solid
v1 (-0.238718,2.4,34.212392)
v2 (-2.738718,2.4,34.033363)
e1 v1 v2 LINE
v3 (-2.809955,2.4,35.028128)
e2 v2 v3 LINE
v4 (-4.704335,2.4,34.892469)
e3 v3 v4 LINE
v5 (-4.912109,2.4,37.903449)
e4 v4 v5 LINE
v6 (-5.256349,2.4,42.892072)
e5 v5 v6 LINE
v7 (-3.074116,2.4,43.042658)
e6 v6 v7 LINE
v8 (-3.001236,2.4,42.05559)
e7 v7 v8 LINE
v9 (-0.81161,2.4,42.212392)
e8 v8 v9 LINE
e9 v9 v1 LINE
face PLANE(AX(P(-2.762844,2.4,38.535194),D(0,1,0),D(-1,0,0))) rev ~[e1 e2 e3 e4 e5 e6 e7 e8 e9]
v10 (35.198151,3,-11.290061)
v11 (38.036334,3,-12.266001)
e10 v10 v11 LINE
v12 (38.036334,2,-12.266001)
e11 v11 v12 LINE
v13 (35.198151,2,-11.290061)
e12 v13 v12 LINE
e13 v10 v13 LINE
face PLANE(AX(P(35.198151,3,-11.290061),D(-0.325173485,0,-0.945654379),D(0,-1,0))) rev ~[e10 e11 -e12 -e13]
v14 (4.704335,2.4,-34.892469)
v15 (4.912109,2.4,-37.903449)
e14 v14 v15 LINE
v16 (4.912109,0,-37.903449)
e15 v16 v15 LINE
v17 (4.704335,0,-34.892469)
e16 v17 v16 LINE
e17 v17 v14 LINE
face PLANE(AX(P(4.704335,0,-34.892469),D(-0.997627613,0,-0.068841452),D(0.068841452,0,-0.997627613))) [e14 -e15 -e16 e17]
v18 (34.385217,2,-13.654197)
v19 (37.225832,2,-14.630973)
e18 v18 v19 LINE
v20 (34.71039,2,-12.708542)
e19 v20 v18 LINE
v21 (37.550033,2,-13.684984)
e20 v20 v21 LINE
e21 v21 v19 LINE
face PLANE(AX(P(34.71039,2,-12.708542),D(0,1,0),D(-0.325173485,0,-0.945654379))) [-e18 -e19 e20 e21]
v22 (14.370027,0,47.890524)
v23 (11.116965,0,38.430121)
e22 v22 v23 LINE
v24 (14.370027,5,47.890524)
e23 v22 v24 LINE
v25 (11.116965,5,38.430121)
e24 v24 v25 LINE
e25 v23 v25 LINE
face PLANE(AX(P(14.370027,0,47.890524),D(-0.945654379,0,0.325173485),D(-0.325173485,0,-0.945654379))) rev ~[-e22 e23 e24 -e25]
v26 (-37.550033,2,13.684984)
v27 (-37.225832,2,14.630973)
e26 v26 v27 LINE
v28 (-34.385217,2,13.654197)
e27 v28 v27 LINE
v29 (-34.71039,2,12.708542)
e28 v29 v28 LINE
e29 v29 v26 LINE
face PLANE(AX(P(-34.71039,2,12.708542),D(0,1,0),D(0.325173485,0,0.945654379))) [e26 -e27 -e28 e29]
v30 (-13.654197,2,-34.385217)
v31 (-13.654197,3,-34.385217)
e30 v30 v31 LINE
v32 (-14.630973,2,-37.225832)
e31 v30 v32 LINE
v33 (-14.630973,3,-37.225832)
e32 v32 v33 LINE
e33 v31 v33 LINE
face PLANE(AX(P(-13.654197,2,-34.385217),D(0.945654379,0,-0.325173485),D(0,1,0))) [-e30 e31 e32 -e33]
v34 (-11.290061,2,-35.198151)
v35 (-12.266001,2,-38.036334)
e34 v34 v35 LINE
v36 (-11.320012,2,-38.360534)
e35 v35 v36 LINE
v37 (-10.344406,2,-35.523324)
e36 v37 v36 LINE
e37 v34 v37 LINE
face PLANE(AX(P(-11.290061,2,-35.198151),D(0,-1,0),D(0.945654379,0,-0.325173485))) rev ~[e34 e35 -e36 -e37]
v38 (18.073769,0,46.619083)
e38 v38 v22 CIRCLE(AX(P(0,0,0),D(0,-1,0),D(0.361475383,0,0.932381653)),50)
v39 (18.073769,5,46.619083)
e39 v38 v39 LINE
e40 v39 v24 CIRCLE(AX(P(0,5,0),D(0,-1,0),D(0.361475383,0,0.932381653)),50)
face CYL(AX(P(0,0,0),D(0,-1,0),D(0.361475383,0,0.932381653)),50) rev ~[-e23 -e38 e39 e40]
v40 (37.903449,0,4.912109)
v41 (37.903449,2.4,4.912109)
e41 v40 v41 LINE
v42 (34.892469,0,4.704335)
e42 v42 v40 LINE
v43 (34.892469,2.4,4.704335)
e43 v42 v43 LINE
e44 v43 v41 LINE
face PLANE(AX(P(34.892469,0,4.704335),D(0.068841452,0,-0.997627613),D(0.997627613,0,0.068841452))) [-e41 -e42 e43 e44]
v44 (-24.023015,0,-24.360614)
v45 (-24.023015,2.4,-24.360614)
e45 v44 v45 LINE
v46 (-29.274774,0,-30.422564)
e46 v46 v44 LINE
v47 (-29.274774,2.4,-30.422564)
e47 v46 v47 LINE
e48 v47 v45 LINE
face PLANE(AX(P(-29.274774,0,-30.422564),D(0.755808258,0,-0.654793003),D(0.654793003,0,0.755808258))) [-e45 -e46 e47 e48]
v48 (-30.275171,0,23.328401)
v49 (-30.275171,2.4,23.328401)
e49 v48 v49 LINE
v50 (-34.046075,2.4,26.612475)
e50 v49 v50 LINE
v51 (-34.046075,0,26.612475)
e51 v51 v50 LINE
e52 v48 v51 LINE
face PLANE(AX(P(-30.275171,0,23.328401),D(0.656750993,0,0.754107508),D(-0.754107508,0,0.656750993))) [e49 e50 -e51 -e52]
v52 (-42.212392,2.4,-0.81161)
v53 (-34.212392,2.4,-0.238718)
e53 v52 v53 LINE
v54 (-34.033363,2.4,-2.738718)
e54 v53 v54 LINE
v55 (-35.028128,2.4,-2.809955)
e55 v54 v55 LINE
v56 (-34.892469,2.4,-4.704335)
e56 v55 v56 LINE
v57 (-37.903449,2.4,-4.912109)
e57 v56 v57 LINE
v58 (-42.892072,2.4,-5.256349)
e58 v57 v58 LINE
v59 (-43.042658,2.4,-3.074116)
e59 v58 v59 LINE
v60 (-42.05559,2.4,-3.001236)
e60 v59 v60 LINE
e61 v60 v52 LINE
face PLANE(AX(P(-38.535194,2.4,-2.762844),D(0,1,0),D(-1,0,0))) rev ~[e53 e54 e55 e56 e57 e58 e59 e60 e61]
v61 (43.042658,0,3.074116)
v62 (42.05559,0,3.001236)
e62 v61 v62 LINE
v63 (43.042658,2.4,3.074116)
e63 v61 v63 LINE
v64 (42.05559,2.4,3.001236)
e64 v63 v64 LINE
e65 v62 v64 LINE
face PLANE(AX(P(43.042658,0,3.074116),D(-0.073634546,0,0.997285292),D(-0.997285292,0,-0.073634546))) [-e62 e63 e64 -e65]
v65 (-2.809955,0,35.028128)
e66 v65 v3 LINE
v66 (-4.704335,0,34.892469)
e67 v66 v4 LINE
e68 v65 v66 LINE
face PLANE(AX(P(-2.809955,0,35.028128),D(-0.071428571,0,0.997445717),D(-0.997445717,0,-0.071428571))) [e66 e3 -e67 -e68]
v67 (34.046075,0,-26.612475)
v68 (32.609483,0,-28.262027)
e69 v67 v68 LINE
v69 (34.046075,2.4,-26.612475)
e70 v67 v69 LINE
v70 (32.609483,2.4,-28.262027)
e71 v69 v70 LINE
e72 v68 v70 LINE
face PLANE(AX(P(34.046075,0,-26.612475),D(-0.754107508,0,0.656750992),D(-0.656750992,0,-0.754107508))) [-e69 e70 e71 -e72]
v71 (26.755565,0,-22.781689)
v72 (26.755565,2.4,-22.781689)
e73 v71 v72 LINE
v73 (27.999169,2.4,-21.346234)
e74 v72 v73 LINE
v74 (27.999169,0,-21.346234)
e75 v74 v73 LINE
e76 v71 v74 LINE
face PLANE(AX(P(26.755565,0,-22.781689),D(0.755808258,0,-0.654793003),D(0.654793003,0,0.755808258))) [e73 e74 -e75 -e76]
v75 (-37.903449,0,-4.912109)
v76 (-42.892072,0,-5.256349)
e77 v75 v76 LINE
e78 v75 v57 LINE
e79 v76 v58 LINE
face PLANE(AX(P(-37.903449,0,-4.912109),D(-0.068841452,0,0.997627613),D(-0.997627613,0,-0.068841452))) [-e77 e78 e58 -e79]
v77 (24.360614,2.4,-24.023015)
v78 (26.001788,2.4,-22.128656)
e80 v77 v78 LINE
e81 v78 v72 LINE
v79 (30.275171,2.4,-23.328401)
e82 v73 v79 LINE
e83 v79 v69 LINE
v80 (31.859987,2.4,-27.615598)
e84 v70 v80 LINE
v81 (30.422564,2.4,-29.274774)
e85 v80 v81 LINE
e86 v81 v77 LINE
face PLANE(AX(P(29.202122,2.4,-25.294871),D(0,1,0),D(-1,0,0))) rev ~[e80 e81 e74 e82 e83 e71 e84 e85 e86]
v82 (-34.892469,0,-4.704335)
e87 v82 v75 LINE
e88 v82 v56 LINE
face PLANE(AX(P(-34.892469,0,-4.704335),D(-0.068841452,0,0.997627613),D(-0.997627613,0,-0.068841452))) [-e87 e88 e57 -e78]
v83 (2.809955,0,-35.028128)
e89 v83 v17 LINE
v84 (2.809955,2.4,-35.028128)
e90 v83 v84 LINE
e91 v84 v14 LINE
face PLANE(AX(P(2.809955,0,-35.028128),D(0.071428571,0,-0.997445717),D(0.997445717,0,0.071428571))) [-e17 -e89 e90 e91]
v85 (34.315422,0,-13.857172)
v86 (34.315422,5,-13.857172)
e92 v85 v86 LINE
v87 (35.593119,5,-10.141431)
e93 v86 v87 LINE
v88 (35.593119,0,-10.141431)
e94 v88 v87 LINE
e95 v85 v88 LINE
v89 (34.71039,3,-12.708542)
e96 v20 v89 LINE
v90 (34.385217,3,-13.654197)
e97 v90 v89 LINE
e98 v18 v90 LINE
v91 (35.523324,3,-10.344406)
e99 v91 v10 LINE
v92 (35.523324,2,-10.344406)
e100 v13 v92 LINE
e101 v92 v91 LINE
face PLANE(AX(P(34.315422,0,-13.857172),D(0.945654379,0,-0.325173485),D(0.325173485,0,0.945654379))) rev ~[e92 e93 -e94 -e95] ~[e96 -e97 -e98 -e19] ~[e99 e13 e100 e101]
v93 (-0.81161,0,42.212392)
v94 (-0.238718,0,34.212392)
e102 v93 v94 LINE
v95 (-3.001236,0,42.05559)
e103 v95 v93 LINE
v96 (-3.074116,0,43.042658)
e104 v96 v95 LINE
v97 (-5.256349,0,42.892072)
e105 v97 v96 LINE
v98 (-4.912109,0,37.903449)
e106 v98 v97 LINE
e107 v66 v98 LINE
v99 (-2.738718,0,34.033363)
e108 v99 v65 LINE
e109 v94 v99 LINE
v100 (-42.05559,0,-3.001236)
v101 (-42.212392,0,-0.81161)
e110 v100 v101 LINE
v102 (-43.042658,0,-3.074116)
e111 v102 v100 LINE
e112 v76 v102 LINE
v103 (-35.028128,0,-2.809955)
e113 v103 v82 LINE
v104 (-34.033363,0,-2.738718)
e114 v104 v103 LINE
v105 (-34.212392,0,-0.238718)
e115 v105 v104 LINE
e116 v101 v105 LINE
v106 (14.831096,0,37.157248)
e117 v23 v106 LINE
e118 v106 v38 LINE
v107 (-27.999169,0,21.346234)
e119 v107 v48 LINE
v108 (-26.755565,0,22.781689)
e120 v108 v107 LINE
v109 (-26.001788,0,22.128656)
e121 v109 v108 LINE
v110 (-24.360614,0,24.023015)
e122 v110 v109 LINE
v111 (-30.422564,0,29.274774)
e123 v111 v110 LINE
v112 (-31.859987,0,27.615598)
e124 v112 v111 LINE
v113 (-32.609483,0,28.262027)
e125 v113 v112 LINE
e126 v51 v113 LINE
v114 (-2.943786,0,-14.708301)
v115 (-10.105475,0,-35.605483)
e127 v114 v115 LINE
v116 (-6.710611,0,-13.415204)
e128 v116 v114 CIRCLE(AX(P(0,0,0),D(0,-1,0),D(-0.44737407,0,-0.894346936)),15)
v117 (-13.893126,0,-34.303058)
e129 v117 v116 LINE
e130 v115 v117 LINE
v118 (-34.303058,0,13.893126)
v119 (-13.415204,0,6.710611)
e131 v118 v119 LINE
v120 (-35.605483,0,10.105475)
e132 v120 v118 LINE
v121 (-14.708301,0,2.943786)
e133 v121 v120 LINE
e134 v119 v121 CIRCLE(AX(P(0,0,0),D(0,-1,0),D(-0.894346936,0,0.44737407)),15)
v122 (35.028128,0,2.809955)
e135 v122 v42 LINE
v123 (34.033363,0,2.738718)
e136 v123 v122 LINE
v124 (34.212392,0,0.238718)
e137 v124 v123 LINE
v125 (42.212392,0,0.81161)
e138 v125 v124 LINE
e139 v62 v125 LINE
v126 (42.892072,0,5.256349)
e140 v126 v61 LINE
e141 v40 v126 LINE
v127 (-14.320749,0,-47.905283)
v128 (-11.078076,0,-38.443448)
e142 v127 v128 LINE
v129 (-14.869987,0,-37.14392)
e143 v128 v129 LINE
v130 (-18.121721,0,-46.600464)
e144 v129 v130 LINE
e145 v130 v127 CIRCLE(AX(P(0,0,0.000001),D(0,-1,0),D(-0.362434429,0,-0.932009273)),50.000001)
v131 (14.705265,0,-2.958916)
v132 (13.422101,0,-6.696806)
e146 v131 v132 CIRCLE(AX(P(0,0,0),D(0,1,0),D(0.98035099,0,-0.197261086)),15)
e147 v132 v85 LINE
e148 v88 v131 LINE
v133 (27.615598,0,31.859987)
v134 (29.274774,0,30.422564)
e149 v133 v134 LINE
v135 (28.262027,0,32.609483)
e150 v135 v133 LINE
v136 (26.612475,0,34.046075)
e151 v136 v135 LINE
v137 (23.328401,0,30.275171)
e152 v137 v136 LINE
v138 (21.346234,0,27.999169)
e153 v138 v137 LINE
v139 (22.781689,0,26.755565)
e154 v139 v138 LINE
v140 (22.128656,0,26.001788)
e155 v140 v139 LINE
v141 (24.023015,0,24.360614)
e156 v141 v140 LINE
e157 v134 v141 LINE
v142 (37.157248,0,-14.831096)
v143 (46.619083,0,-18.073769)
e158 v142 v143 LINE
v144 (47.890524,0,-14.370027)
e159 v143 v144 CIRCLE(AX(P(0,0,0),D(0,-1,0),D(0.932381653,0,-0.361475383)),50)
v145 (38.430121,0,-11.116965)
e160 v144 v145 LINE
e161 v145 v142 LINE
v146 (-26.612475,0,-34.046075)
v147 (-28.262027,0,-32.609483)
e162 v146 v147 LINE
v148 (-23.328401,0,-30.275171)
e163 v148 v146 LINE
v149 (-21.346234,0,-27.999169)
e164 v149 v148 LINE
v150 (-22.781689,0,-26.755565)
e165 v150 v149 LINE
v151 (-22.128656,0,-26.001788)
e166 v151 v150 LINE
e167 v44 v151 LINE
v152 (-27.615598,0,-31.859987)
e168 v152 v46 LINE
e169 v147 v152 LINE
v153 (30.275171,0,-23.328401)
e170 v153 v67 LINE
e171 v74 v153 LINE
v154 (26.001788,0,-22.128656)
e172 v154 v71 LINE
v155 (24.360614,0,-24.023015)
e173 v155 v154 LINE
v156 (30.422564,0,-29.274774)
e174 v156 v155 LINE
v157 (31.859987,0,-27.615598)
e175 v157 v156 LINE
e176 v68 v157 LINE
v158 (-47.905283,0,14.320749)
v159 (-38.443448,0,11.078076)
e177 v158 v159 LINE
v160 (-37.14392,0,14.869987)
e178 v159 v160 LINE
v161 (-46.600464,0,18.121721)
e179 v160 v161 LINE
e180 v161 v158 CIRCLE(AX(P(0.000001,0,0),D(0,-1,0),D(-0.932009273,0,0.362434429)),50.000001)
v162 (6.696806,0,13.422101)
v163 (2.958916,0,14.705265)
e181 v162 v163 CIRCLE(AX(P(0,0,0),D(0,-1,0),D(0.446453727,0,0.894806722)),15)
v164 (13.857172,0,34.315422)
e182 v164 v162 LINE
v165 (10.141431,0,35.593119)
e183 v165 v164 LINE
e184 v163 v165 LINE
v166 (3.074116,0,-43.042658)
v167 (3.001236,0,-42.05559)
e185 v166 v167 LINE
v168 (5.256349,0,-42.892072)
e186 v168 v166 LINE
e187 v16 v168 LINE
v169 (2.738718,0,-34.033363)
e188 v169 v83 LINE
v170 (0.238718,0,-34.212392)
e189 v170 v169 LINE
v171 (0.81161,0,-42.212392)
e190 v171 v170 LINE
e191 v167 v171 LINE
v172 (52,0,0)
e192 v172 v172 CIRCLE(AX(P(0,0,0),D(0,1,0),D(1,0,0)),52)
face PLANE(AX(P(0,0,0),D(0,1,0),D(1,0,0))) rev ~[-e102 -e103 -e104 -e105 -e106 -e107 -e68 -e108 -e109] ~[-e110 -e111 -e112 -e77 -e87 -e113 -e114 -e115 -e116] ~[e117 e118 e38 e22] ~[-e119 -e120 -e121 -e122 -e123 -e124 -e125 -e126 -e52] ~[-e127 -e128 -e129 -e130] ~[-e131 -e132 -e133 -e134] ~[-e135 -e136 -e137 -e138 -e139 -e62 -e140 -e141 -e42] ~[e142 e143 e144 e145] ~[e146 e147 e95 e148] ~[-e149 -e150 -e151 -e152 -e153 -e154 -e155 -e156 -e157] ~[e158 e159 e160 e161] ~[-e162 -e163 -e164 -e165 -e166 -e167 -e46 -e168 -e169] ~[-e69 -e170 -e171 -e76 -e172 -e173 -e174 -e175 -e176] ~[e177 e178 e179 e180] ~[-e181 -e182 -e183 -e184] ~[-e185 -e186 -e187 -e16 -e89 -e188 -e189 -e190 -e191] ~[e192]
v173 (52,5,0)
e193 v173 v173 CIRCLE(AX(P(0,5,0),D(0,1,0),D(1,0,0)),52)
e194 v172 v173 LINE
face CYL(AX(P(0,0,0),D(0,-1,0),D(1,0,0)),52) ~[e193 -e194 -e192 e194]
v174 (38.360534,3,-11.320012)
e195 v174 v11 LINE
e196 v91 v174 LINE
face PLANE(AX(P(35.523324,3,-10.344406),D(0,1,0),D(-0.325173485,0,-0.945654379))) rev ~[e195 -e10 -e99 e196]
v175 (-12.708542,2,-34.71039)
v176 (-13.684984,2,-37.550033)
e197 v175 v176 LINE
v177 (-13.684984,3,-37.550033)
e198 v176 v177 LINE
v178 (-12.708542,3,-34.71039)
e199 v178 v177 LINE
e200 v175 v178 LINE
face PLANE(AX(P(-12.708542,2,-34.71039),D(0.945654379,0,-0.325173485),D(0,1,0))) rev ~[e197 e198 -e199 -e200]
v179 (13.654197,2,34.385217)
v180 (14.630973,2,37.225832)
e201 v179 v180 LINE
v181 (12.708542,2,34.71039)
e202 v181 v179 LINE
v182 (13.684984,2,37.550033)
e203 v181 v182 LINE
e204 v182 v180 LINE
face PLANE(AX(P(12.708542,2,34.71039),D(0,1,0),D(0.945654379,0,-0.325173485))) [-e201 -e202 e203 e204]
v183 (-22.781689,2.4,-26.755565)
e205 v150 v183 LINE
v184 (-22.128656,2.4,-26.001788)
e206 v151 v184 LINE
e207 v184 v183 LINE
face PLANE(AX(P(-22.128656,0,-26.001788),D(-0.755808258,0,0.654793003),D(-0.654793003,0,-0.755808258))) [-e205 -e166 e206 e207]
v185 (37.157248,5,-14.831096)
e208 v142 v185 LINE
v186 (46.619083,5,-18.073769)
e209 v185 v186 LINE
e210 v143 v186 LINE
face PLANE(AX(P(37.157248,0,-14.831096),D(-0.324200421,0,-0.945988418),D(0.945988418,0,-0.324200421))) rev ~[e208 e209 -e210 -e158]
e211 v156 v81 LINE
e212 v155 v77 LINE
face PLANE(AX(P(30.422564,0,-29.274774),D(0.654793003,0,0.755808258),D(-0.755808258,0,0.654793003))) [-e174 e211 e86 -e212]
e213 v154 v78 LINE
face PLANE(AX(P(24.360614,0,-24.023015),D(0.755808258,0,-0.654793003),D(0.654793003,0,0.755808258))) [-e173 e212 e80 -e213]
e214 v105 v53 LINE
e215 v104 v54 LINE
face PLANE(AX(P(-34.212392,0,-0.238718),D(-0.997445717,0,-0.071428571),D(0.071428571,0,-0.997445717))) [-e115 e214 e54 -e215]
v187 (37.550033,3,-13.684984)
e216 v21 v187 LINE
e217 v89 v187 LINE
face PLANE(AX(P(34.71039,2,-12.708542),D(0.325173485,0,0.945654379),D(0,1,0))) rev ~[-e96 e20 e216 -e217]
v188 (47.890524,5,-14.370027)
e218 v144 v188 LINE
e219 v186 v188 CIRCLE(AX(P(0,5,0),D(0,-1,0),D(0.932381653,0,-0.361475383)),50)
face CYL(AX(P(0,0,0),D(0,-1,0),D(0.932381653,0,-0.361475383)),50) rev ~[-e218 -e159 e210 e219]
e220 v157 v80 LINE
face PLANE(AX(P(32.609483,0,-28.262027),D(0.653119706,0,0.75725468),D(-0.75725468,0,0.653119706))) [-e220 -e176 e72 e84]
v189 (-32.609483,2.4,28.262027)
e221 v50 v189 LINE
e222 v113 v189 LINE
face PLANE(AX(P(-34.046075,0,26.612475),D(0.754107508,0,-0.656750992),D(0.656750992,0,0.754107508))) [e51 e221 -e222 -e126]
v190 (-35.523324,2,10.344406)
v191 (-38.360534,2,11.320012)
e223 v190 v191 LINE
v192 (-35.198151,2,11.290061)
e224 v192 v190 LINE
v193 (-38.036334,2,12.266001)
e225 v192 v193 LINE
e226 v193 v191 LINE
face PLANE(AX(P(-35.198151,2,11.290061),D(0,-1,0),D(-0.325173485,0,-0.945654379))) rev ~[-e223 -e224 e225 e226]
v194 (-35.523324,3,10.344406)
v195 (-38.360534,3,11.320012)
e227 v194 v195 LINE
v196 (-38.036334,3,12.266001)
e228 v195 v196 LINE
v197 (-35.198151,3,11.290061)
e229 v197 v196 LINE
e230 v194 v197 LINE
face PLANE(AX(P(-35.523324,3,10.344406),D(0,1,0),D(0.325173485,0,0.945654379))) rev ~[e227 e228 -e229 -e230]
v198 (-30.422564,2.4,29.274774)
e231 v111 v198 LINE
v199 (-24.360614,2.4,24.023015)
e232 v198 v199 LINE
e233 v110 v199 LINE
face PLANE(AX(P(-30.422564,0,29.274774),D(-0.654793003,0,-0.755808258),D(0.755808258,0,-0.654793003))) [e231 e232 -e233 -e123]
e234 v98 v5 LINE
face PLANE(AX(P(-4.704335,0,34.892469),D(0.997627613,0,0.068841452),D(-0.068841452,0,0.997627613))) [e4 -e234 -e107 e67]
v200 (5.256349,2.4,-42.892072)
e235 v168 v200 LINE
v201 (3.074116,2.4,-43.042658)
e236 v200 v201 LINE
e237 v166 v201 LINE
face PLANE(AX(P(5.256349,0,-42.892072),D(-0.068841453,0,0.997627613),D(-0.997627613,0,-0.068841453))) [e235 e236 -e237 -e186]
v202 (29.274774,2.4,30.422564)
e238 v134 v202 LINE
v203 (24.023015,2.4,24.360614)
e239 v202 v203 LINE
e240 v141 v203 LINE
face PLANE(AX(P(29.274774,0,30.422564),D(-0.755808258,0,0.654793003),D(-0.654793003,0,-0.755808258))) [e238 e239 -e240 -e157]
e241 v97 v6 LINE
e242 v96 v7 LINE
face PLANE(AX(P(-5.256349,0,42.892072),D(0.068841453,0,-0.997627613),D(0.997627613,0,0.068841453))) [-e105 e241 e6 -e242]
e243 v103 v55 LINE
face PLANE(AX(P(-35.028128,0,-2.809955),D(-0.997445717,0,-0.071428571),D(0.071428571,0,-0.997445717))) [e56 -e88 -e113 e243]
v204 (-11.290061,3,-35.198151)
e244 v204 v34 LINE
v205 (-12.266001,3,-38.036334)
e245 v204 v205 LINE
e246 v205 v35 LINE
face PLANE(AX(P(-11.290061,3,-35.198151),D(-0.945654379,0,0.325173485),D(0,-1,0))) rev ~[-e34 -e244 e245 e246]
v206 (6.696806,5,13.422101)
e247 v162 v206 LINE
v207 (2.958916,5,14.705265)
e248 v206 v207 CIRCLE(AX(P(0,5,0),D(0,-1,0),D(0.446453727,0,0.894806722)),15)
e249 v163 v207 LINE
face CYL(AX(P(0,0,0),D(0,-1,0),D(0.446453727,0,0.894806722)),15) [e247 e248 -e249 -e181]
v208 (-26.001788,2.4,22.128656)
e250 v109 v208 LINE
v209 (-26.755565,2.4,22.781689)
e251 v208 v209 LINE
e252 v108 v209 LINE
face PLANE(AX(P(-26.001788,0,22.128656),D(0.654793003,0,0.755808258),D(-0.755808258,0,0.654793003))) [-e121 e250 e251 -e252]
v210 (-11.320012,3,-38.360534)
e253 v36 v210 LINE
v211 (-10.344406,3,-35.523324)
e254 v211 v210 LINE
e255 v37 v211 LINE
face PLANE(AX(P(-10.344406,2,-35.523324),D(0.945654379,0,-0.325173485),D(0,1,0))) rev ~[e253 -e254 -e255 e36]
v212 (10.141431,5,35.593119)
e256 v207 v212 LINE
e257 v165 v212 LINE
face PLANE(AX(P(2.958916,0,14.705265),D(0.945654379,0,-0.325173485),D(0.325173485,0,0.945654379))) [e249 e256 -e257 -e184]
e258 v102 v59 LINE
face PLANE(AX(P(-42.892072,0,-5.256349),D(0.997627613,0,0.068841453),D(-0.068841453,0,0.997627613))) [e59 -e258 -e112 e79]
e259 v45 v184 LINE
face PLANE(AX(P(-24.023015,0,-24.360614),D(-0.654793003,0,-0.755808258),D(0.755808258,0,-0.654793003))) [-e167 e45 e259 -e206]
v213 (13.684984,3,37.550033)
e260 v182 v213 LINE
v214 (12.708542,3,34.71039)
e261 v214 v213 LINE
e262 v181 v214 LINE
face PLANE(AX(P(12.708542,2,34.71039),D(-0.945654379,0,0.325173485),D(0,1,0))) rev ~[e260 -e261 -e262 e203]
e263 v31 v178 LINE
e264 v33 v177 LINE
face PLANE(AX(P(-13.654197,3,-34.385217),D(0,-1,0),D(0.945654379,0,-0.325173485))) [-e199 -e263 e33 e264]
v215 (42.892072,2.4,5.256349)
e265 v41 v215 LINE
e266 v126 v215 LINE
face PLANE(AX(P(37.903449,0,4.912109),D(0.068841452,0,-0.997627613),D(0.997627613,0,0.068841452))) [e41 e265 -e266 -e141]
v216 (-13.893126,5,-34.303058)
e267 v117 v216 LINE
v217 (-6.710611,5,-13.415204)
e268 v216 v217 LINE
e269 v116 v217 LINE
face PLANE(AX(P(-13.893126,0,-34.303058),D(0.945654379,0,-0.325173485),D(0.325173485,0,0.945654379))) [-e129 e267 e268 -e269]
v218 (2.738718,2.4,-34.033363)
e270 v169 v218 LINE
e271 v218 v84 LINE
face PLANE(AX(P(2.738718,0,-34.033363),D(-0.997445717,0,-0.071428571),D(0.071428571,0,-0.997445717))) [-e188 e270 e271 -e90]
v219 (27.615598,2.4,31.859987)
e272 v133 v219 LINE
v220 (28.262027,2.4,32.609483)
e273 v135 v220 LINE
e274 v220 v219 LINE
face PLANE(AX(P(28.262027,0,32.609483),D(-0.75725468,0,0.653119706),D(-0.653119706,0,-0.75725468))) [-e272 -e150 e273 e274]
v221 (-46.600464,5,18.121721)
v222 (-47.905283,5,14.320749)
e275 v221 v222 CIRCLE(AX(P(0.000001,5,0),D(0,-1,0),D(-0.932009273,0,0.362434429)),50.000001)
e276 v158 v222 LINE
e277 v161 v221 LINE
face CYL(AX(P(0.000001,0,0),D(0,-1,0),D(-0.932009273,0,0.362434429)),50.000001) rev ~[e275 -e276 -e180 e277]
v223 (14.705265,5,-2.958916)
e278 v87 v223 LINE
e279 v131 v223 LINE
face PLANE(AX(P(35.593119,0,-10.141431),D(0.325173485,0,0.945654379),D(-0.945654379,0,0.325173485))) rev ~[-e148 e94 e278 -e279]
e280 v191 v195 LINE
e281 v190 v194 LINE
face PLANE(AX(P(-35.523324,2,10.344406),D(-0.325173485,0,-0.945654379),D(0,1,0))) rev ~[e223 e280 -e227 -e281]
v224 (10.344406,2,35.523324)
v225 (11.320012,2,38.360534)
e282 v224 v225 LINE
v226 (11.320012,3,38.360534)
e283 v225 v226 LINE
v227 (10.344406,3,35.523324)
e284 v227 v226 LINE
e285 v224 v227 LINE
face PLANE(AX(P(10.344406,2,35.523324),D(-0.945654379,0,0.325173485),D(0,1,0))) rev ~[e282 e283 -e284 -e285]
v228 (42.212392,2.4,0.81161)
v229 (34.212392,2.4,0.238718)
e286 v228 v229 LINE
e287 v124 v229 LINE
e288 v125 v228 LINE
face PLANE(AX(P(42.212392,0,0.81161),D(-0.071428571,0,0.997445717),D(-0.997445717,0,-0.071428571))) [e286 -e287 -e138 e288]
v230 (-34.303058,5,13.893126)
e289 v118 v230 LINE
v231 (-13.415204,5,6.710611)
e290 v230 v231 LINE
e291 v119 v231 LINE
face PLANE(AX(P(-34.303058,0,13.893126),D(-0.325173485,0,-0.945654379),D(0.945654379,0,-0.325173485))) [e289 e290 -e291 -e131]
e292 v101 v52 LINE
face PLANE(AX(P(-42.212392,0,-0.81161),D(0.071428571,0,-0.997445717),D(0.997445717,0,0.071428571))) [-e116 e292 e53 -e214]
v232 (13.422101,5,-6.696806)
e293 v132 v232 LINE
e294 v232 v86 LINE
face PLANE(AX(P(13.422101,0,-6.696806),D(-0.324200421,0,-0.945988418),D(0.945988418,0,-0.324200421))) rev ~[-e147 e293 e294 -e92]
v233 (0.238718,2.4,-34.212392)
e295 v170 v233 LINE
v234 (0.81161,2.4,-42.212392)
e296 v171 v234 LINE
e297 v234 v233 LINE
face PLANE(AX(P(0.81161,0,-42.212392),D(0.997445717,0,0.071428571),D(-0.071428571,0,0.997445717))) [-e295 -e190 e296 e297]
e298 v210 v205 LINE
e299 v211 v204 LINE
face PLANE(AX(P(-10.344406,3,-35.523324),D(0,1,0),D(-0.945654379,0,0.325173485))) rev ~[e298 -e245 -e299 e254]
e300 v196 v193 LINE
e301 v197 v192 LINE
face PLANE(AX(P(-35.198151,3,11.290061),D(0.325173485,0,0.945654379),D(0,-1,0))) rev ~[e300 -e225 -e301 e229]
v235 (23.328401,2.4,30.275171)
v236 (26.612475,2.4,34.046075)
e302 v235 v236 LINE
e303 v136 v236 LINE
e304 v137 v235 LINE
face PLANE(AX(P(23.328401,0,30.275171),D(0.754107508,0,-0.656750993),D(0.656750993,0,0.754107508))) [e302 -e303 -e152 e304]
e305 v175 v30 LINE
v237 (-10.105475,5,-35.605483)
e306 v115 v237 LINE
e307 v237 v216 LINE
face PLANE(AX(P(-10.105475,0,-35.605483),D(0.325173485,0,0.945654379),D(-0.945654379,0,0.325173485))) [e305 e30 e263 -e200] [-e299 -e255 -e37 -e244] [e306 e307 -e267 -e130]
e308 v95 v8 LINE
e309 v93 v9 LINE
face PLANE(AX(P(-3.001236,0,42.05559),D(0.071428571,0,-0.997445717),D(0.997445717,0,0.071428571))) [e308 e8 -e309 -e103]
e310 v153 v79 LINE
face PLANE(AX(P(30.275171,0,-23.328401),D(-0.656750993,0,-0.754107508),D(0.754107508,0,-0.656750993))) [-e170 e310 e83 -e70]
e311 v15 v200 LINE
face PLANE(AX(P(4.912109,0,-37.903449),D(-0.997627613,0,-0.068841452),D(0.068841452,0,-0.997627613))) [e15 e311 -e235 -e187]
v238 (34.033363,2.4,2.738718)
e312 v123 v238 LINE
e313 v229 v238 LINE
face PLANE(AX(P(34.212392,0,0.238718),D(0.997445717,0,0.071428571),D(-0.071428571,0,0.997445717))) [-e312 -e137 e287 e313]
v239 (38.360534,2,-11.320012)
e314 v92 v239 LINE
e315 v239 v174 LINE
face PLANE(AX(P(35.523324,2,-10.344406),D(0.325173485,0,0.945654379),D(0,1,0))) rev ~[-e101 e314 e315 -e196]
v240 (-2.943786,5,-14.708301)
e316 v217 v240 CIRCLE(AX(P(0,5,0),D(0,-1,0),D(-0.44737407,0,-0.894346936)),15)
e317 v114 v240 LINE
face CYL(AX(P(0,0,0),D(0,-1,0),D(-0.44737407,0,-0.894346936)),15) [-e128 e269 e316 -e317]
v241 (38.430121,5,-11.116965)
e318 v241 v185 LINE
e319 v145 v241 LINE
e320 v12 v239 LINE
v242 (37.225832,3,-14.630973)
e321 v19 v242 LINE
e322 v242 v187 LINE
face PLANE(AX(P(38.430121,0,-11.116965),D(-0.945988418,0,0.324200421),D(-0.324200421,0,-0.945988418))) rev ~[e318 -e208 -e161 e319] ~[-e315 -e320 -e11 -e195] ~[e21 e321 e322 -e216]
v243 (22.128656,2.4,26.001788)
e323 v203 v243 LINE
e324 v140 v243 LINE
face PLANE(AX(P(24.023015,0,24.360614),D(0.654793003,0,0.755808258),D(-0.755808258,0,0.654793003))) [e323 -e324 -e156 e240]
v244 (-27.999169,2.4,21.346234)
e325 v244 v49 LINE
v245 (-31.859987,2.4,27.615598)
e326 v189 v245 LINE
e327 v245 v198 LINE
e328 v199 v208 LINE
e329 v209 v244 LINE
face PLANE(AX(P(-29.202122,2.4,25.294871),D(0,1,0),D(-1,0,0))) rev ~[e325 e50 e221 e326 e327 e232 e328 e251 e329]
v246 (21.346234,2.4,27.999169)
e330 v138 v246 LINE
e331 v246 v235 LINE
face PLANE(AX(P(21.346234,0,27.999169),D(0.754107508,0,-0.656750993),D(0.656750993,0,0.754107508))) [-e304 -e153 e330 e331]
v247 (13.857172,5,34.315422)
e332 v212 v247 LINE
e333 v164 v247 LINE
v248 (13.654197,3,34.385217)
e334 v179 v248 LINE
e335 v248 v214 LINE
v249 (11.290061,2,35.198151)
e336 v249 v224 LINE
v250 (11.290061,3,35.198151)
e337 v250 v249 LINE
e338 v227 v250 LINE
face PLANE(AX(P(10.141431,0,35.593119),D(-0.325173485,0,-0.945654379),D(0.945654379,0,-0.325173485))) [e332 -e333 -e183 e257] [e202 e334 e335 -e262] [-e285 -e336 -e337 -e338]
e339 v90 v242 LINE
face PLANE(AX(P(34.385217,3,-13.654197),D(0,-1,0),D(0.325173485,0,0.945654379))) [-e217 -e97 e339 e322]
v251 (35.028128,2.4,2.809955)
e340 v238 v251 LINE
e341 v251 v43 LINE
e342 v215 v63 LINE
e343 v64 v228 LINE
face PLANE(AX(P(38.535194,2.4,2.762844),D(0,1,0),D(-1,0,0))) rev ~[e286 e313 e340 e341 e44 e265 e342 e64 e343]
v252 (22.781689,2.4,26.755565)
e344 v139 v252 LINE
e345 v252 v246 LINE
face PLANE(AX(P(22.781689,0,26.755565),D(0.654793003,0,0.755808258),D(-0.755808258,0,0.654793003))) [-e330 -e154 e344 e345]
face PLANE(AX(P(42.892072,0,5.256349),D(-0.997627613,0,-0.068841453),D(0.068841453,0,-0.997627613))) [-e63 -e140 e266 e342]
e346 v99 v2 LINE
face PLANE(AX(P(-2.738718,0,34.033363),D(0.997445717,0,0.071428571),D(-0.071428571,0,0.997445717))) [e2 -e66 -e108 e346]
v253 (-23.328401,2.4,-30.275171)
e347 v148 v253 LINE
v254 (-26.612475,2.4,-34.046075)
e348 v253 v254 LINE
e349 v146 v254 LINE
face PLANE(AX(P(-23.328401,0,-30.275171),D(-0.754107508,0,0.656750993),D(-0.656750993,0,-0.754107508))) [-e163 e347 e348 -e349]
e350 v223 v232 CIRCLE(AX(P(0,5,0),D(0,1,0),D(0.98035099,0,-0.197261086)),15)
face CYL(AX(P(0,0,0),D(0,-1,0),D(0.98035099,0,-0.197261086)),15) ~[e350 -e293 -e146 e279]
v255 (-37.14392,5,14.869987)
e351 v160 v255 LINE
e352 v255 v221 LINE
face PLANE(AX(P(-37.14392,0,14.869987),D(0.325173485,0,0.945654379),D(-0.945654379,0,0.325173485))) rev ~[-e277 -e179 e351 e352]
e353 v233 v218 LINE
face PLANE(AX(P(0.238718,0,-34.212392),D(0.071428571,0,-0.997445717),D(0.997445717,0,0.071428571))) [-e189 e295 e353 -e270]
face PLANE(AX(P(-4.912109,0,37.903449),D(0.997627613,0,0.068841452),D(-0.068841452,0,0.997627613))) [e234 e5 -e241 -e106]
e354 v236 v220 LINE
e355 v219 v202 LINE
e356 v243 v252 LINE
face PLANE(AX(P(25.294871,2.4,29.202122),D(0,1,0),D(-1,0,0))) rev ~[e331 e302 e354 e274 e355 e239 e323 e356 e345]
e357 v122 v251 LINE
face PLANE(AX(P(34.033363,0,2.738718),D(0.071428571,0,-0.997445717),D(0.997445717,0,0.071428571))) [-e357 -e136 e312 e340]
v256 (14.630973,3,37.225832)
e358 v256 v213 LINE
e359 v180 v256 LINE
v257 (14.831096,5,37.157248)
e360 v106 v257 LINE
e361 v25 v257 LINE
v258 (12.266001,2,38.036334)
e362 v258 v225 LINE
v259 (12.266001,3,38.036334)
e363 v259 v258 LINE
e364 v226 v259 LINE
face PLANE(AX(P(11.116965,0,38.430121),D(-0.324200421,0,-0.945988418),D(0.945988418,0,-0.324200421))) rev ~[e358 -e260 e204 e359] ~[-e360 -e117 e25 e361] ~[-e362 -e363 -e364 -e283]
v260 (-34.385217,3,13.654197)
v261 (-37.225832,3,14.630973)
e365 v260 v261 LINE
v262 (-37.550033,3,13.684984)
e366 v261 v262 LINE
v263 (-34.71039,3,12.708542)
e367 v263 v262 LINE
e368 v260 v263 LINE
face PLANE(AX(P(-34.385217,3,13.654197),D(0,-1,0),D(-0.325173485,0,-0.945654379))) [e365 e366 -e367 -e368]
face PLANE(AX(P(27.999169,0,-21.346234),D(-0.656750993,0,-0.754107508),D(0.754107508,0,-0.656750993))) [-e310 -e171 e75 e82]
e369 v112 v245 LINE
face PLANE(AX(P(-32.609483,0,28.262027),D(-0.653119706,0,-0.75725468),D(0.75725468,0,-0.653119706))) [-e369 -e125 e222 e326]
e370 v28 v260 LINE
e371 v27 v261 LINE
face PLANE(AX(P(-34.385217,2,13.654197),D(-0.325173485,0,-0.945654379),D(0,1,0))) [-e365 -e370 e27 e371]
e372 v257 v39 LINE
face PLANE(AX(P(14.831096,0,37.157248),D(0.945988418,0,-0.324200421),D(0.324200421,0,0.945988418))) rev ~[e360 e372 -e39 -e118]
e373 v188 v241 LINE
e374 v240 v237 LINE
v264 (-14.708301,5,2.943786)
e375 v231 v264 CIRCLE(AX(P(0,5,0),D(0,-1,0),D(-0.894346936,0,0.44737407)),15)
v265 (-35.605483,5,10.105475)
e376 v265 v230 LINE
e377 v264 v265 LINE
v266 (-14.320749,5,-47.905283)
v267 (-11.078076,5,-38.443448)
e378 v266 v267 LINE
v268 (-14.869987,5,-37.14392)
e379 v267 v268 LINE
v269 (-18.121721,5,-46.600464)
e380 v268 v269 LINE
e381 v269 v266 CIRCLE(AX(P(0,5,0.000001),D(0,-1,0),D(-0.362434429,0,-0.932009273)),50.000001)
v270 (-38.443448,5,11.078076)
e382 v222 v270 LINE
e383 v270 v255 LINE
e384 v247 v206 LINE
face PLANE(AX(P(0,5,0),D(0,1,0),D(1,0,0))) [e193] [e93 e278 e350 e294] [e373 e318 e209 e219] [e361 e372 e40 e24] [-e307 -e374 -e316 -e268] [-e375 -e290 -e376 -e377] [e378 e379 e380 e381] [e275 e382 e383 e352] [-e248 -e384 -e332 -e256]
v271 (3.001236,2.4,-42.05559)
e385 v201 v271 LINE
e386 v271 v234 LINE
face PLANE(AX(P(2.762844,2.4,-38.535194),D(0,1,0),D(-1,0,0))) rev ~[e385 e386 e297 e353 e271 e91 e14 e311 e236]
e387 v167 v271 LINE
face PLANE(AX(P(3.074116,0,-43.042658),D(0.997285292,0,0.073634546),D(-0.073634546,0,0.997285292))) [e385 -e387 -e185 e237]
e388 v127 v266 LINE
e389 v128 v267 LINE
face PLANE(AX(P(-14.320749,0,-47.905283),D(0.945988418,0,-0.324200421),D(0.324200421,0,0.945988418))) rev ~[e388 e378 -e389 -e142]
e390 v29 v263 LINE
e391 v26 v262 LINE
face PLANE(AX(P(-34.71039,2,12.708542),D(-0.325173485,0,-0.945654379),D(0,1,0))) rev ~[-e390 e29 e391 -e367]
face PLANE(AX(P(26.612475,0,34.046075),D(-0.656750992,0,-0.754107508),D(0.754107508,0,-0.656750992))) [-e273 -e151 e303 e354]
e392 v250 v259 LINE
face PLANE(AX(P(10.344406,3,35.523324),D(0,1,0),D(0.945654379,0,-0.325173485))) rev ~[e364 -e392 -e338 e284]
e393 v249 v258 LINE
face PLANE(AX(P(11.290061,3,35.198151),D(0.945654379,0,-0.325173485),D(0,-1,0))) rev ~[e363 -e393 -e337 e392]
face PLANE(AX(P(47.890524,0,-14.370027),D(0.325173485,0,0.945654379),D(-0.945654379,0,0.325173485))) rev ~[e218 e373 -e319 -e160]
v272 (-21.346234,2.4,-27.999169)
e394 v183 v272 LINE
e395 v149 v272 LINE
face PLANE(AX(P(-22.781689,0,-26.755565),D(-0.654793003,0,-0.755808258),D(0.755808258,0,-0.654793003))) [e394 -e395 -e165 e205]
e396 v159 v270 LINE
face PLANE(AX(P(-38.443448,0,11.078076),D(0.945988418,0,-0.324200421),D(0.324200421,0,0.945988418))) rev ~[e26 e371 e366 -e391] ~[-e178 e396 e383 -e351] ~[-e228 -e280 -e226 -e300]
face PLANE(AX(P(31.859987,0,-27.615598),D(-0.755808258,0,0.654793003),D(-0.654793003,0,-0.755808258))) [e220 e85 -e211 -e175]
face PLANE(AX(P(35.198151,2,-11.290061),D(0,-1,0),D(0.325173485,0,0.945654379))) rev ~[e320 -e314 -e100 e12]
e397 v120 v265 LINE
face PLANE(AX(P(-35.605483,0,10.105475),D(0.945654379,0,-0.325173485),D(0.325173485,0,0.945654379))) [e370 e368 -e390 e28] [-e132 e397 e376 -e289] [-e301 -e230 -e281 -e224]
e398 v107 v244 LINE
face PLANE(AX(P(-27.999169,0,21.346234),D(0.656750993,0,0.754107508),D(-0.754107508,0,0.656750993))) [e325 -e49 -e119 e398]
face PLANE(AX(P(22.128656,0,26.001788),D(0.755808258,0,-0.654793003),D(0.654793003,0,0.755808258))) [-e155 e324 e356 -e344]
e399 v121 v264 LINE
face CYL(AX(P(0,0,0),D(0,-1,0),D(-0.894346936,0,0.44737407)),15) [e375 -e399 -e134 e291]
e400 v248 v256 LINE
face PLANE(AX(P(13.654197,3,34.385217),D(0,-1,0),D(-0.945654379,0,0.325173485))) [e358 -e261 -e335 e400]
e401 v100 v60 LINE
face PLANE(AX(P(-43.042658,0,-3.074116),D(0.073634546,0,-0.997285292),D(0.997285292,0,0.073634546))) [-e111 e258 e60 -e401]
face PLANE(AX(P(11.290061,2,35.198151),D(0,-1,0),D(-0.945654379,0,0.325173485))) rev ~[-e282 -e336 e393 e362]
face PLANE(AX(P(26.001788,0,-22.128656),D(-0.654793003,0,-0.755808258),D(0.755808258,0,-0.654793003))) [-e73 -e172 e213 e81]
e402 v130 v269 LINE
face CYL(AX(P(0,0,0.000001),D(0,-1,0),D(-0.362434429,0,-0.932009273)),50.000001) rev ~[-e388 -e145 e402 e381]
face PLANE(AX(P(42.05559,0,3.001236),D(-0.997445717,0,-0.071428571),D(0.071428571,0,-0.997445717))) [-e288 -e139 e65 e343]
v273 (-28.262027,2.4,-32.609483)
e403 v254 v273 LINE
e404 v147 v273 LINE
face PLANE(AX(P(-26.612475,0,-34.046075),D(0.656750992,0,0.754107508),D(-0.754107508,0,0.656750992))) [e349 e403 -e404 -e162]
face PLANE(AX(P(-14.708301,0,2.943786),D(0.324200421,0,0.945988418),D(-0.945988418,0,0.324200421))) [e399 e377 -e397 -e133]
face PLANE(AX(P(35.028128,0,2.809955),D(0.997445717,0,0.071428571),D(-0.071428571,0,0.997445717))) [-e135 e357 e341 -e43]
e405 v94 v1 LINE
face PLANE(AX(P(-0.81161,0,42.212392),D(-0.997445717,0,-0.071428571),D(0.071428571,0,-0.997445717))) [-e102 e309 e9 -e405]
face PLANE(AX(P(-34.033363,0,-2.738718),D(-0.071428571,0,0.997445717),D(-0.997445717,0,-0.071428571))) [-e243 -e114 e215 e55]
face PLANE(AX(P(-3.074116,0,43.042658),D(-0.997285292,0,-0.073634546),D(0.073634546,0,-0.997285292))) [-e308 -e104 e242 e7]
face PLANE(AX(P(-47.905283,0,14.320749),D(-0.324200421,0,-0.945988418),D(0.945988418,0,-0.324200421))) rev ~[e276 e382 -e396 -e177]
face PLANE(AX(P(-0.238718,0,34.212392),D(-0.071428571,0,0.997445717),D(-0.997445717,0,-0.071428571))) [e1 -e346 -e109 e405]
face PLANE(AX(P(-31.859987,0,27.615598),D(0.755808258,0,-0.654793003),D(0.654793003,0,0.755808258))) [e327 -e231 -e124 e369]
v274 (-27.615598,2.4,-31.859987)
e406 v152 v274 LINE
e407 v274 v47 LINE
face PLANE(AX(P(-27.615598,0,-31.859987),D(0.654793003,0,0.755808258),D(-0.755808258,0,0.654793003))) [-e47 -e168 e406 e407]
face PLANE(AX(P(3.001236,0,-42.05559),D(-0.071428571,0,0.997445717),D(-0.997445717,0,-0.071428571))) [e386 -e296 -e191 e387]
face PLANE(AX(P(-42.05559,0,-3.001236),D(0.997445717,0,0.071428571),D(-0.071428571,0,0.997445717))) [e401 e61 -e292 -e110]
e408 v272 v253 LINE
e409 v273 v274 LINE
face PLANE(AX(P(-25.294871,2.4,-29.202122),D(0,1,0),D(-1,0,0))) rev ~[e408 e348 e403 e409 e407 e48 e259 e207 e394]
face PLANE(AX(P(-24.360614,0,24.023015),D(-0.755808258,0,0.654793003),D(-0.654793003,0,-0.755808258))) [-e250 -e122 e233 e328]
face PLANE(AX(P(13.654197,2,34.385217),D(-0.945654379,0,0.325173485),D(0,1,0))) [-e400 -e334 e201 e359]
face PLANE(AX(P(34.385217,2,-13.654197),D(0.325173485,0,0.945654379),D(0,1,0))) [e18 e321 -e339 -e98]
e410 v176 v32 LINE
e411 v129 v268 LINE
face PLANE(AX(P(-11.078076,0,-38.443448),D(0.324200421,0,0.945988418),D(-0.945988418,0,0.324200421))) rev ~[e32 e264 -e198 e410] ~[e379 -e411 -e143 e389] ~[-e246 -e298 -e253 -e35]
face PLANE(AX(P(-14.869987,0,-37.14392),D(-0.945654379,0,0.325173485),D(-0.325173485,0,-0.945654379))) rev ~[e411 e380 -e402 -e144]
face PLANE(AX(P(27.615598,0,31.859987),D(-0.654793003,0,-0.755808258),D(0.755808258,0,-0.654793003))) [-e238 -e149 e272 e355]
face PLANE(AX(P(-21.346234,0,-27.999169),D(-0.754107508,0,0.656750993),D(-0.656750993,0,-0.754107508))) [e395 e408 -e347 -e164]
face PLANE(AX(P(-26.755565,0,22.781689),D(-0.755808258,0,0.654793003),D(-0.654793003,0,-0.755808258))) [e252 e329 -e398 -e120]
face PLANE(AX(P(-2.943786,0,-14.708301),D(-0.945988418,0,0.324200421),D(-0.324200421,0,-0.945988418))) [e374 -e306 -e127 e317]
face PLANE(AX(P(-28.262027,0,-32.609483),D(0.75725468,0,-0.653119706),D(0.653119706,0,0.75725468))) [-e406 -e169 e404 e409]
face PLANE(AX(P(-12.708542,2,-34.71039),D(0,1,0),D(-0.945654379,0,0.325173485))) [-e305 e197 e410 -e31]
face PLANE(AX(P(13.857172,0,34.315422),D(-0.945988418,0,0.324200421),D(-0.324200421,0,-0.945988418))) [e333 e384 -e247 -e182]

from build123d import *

# Parameters (mm, degrees)
SKETCH1_R           = 52
BOSS_EXTRUDE1_DEPTH = 5
CUT_EXTRUDE3_DEPTH  = 2.4
CUT_EXTRUDE6_DEPTH  = 5
CUT_EXTRUDE7_DEPTH  = 5
CIRPATTERN1_COUNT   = 4


with BuildPart() as part:
    # Sketch1 → Boss-Extrude1 (new body)
    with BuildSketch(Plane(origin=(0, 0, 0), x_dir=(1, 0, 0), z_dir=(0, 1, 0))):
        Circle(SKETCH1_R)
    extrude(amount=BOSS_EXTRUDE1_DEPTH)

    # Sketch4 → Cut-Extrude3 (cut)
    with BuildSketch(Plane.XZ):
        Polygon((-30.27517129, 23.328400706), (-34.046075388, 26.612474905), (-32.609483493, 28.262026633), (-31.859987156, 27.61559837), (-30.422563818, 29.274773748), (-24.360613821, 24.023015245), (-26.001788353, 22.128655871), (-26.755565092, 22.781688872), (-27.999168756, 21.346233829), align=None)
        Polygon((-37.903449254, -4.912108587), (-42.892072249, -5.256349311), (-43.042657591, -3.074116227), (-42.05558984, -3.001236093), (-42.212392211, -0.811610142), (-34.212392211, -0.238718243), (-34.033363493, -2.738718243), (-35.028128199, -2.809954823), (-34.892468788, -4.704335401), align=None)
        Polygon((-4.912108587, 37.903449254), (-5.256349311, 42.892072249), (-3.074116227, 43.042657591), (-3.001236093, 42.05558984), (-0.811610142, 42.212392211), (-0.238718243, 34.212392211), (-2.738718243, 34.033363493), (-2.809954823, 35.028128199), (-4.704335401, 34.892468788), align=None)
        Polygon((23.328400706, 30.27517129), (26.612474905, 34.046075388), (28.262026633, 32.609483493), (27.61559837, 31.859987156), (29.274773748, 30.422563818), (24.023015245, 24.360613821), (22.128655871, 26.001788353), (22.781688872, 26.755565092), (21.346233829, 27.999168756), align=None)
        Polygon((37.903449254, 4.912108587), (42.892072249, 5.256349311), (43.042657591, 3.074116227), (42.05558984, 3.001236093), (42.212392211, 0.811610142), (34.212392211, 0.238718243), (34.033363493, 2.738718243), (35.028128199, 2.809954823), (34.892468788, 4.704335401), align=None)
        Polygon((30.27517129, -23.328400706), (34.046075388, -26.612474905), (32.609483493, -28.262026633), (31.859987156, -27.61559837), (30.422563818, -29.274773748), (24.360613821, -24.023015245), (26.001788353, -22.128655871), (26.755565092, -22.781688872), (27.999168756, -21.346233829), align=None)
        Polygon((4.912108587, -37.903449254), (5.256349311, -42.892072249), (3.074116227, -43.042657591), (3.001236093, -42.05558984), (0.811610142, -42.212392211), (0.238718243, -34.212392211), (2.738718243, -34.033363493), (2.809954823, -35.028128199), (4.704335401, -34.892468788), align=None)
        Polygon((-23.328400706, -30.27517129), (-26.612474905, -34.046075388), (-28.262026633, -32.609483493), (-27.61559837, -31.859987156), (-29.274773748, -30.422563818), (-24.023015245, -24.360613821), (-22.128655871, -26.001788353), (-22.781688872, -26.755565092), (-21.346233829, -27.999168756), align=None)
    extrude(amount=-CUT_EXTRUDE3_DEPTH, mode=Mode.SUBTRACT)

    # Sketch8 → Cut-Extrude6 (cut)
    with BuildSketch(Plane.XZ):
        with BuildLine():
            Line((-47.90528304, 14.320749174), (-38.443448295, 11.078076484))
            Line((-38.443448295, 11.078076484), (-37.143919852, 14.869986599))
            Line((-37.143919852, 14.869986599), (-46.600463643, 18.121721449))
            ThreePointArc((-46.600463643, 18.121721449), (-47.291076183, 16.2343498), (-47.90528304, 14.320749174))
        make_face()
        with BuildLine():
            Line((2.958916284, 14.705264854), (10.141430922, 35.593119285))
            Line((10.141430922, 35.593119285), (13.857171973, 34.31542154))
            Line((13.857171973, 34.31542154), (6.696805901, 13.422100831))
            ThreePointArc((6.696805901, 13.422100831), (4.87030494, 14.187322855), (2.958916284, 14.705264854))
        make_face()
        with BuildLine():
            Line((13.422100831, -6.696805901), (34.31542154, -13.857171973))
            Line((34.31542154, -13.857171973), (35.593119285, -10.141430922))
            Line((35.593119285, -10.141430922), (14.705264854, -2.958916284))
            ThreePointArc((14.705264854, -2.958916284), (14.187322855, -4.87030494), (13.422100831, -6.696805901))
        make_face()
        with BuildLine():
            Line((-13.893125689, -34.303058466), (-6.710611051, -13.415204036))
            ThreePointArc((-6.710611051, -13.415204036), (-4.87030494, -14.187322855), (-2.943785902, -14.708301213))
            Line((-2.943785902, -14.708301213), (-10.10547522, -35.605483041))
            Line((-10.10547522, -35.605483041), (-13.893125689, -34.303058466))
        make_face()
        with BuildLine():
            Line((-14.320749174, -47.90528304), (-11.078076484, -38.443448295))
            Line((-11.078076484, -38.443448295), (-14.869986599, -37.143919852))
            Line((-14.869986599, -37.143919852), (-18.121721449, -46.600463643))
            ThreePointArc((-18.121721449, -46.600463643), (-16.2343498, -47.291076183), (-14.320749174, -47.90528304))
        make_face()
        with BuildLine():
            Line((-35.605483041, 10.10547522), (-34.303058466, 13.893125689))
            Line((-34.303058466, 13.893125689), (-13.415204036, 6.710611051))
            ThreePointArc((-13.415204036, 6.710611051), (-14.187322855, 4.87030494), (-14.708301213, 2.943785902))
            Line((-14.708301213, 2.943785902), (-35.605483041, 10.10547522))
        make_face()
        with BuildLine():
            Line((11.116964613, 38.430120915), (14.831096483, 37.157247914))
            Line((14.831096483, 37.157247914), (18.073769174, 46.619082658))
            ThreePointArc((18.073769174, 46.619082658), (16.2343498, 47.291076183), (14.370026682, 47.890524461))
            Line((14.370026682, 47.890524461), (11.116964613, 38.430120915))
        make_face()
        with BuildLine():
            Line((38.430120915, -11.116964613), (37.157247914, -14.831096483))
            Line((37.157247914, -14.831096483), (46.619082658, -18.073769174))
            ThreePointArc((46.619082658, -18.073769174), (47.291076183, -16.2343498), (47.890524461, -14.370026682))
            Line((47.890524461, -14.370026682), (38.430120915, -11.116964613))
        make_face()
    extrude(amount=-CUT_EXTRUDE6_DEPTH, mode=Mode.SUBTRACT)

    # Sketch9 → Cut-Extrude7 (cut)
    with BuildSketch(Plane(origin=(34.948088876, 0, -12.017278305), x_dir=(0.325173485, 0, 0.945654379), z_dir=(-0.945654379, 0, 0.325173485))):
        Polygon((0.769009966, 2.5), (0.769009966, 2), (1.769009966, 2), (1.769009966, 3), (0.769009966, 3), align=None)
        Polygon((-0.730990034, 2.5), (-0.730990034, 2), (-1.730990034, 2), (-1.730990034, 3), (-0.730990034, 3), align=None)
    cut_extrude7 = extrude(amount=-CUT_EXTRUDE7_DEPTH, mode=Mode.SUBTRACT)

    # CirPattern1: Cut-Extrude7 ×4 about axis
    cirpattern1_axis = Axis((0, 0, 0), (0, 1, 0))
    for i in range(1, CIRPATTERN1_COUNT):
        add(cut_extrude7.rotate(cirpattern1_axis, i * 360 / CIRPATTERN1_COUNT), mode=Mode.SUBTRACT)


solid = part.part
